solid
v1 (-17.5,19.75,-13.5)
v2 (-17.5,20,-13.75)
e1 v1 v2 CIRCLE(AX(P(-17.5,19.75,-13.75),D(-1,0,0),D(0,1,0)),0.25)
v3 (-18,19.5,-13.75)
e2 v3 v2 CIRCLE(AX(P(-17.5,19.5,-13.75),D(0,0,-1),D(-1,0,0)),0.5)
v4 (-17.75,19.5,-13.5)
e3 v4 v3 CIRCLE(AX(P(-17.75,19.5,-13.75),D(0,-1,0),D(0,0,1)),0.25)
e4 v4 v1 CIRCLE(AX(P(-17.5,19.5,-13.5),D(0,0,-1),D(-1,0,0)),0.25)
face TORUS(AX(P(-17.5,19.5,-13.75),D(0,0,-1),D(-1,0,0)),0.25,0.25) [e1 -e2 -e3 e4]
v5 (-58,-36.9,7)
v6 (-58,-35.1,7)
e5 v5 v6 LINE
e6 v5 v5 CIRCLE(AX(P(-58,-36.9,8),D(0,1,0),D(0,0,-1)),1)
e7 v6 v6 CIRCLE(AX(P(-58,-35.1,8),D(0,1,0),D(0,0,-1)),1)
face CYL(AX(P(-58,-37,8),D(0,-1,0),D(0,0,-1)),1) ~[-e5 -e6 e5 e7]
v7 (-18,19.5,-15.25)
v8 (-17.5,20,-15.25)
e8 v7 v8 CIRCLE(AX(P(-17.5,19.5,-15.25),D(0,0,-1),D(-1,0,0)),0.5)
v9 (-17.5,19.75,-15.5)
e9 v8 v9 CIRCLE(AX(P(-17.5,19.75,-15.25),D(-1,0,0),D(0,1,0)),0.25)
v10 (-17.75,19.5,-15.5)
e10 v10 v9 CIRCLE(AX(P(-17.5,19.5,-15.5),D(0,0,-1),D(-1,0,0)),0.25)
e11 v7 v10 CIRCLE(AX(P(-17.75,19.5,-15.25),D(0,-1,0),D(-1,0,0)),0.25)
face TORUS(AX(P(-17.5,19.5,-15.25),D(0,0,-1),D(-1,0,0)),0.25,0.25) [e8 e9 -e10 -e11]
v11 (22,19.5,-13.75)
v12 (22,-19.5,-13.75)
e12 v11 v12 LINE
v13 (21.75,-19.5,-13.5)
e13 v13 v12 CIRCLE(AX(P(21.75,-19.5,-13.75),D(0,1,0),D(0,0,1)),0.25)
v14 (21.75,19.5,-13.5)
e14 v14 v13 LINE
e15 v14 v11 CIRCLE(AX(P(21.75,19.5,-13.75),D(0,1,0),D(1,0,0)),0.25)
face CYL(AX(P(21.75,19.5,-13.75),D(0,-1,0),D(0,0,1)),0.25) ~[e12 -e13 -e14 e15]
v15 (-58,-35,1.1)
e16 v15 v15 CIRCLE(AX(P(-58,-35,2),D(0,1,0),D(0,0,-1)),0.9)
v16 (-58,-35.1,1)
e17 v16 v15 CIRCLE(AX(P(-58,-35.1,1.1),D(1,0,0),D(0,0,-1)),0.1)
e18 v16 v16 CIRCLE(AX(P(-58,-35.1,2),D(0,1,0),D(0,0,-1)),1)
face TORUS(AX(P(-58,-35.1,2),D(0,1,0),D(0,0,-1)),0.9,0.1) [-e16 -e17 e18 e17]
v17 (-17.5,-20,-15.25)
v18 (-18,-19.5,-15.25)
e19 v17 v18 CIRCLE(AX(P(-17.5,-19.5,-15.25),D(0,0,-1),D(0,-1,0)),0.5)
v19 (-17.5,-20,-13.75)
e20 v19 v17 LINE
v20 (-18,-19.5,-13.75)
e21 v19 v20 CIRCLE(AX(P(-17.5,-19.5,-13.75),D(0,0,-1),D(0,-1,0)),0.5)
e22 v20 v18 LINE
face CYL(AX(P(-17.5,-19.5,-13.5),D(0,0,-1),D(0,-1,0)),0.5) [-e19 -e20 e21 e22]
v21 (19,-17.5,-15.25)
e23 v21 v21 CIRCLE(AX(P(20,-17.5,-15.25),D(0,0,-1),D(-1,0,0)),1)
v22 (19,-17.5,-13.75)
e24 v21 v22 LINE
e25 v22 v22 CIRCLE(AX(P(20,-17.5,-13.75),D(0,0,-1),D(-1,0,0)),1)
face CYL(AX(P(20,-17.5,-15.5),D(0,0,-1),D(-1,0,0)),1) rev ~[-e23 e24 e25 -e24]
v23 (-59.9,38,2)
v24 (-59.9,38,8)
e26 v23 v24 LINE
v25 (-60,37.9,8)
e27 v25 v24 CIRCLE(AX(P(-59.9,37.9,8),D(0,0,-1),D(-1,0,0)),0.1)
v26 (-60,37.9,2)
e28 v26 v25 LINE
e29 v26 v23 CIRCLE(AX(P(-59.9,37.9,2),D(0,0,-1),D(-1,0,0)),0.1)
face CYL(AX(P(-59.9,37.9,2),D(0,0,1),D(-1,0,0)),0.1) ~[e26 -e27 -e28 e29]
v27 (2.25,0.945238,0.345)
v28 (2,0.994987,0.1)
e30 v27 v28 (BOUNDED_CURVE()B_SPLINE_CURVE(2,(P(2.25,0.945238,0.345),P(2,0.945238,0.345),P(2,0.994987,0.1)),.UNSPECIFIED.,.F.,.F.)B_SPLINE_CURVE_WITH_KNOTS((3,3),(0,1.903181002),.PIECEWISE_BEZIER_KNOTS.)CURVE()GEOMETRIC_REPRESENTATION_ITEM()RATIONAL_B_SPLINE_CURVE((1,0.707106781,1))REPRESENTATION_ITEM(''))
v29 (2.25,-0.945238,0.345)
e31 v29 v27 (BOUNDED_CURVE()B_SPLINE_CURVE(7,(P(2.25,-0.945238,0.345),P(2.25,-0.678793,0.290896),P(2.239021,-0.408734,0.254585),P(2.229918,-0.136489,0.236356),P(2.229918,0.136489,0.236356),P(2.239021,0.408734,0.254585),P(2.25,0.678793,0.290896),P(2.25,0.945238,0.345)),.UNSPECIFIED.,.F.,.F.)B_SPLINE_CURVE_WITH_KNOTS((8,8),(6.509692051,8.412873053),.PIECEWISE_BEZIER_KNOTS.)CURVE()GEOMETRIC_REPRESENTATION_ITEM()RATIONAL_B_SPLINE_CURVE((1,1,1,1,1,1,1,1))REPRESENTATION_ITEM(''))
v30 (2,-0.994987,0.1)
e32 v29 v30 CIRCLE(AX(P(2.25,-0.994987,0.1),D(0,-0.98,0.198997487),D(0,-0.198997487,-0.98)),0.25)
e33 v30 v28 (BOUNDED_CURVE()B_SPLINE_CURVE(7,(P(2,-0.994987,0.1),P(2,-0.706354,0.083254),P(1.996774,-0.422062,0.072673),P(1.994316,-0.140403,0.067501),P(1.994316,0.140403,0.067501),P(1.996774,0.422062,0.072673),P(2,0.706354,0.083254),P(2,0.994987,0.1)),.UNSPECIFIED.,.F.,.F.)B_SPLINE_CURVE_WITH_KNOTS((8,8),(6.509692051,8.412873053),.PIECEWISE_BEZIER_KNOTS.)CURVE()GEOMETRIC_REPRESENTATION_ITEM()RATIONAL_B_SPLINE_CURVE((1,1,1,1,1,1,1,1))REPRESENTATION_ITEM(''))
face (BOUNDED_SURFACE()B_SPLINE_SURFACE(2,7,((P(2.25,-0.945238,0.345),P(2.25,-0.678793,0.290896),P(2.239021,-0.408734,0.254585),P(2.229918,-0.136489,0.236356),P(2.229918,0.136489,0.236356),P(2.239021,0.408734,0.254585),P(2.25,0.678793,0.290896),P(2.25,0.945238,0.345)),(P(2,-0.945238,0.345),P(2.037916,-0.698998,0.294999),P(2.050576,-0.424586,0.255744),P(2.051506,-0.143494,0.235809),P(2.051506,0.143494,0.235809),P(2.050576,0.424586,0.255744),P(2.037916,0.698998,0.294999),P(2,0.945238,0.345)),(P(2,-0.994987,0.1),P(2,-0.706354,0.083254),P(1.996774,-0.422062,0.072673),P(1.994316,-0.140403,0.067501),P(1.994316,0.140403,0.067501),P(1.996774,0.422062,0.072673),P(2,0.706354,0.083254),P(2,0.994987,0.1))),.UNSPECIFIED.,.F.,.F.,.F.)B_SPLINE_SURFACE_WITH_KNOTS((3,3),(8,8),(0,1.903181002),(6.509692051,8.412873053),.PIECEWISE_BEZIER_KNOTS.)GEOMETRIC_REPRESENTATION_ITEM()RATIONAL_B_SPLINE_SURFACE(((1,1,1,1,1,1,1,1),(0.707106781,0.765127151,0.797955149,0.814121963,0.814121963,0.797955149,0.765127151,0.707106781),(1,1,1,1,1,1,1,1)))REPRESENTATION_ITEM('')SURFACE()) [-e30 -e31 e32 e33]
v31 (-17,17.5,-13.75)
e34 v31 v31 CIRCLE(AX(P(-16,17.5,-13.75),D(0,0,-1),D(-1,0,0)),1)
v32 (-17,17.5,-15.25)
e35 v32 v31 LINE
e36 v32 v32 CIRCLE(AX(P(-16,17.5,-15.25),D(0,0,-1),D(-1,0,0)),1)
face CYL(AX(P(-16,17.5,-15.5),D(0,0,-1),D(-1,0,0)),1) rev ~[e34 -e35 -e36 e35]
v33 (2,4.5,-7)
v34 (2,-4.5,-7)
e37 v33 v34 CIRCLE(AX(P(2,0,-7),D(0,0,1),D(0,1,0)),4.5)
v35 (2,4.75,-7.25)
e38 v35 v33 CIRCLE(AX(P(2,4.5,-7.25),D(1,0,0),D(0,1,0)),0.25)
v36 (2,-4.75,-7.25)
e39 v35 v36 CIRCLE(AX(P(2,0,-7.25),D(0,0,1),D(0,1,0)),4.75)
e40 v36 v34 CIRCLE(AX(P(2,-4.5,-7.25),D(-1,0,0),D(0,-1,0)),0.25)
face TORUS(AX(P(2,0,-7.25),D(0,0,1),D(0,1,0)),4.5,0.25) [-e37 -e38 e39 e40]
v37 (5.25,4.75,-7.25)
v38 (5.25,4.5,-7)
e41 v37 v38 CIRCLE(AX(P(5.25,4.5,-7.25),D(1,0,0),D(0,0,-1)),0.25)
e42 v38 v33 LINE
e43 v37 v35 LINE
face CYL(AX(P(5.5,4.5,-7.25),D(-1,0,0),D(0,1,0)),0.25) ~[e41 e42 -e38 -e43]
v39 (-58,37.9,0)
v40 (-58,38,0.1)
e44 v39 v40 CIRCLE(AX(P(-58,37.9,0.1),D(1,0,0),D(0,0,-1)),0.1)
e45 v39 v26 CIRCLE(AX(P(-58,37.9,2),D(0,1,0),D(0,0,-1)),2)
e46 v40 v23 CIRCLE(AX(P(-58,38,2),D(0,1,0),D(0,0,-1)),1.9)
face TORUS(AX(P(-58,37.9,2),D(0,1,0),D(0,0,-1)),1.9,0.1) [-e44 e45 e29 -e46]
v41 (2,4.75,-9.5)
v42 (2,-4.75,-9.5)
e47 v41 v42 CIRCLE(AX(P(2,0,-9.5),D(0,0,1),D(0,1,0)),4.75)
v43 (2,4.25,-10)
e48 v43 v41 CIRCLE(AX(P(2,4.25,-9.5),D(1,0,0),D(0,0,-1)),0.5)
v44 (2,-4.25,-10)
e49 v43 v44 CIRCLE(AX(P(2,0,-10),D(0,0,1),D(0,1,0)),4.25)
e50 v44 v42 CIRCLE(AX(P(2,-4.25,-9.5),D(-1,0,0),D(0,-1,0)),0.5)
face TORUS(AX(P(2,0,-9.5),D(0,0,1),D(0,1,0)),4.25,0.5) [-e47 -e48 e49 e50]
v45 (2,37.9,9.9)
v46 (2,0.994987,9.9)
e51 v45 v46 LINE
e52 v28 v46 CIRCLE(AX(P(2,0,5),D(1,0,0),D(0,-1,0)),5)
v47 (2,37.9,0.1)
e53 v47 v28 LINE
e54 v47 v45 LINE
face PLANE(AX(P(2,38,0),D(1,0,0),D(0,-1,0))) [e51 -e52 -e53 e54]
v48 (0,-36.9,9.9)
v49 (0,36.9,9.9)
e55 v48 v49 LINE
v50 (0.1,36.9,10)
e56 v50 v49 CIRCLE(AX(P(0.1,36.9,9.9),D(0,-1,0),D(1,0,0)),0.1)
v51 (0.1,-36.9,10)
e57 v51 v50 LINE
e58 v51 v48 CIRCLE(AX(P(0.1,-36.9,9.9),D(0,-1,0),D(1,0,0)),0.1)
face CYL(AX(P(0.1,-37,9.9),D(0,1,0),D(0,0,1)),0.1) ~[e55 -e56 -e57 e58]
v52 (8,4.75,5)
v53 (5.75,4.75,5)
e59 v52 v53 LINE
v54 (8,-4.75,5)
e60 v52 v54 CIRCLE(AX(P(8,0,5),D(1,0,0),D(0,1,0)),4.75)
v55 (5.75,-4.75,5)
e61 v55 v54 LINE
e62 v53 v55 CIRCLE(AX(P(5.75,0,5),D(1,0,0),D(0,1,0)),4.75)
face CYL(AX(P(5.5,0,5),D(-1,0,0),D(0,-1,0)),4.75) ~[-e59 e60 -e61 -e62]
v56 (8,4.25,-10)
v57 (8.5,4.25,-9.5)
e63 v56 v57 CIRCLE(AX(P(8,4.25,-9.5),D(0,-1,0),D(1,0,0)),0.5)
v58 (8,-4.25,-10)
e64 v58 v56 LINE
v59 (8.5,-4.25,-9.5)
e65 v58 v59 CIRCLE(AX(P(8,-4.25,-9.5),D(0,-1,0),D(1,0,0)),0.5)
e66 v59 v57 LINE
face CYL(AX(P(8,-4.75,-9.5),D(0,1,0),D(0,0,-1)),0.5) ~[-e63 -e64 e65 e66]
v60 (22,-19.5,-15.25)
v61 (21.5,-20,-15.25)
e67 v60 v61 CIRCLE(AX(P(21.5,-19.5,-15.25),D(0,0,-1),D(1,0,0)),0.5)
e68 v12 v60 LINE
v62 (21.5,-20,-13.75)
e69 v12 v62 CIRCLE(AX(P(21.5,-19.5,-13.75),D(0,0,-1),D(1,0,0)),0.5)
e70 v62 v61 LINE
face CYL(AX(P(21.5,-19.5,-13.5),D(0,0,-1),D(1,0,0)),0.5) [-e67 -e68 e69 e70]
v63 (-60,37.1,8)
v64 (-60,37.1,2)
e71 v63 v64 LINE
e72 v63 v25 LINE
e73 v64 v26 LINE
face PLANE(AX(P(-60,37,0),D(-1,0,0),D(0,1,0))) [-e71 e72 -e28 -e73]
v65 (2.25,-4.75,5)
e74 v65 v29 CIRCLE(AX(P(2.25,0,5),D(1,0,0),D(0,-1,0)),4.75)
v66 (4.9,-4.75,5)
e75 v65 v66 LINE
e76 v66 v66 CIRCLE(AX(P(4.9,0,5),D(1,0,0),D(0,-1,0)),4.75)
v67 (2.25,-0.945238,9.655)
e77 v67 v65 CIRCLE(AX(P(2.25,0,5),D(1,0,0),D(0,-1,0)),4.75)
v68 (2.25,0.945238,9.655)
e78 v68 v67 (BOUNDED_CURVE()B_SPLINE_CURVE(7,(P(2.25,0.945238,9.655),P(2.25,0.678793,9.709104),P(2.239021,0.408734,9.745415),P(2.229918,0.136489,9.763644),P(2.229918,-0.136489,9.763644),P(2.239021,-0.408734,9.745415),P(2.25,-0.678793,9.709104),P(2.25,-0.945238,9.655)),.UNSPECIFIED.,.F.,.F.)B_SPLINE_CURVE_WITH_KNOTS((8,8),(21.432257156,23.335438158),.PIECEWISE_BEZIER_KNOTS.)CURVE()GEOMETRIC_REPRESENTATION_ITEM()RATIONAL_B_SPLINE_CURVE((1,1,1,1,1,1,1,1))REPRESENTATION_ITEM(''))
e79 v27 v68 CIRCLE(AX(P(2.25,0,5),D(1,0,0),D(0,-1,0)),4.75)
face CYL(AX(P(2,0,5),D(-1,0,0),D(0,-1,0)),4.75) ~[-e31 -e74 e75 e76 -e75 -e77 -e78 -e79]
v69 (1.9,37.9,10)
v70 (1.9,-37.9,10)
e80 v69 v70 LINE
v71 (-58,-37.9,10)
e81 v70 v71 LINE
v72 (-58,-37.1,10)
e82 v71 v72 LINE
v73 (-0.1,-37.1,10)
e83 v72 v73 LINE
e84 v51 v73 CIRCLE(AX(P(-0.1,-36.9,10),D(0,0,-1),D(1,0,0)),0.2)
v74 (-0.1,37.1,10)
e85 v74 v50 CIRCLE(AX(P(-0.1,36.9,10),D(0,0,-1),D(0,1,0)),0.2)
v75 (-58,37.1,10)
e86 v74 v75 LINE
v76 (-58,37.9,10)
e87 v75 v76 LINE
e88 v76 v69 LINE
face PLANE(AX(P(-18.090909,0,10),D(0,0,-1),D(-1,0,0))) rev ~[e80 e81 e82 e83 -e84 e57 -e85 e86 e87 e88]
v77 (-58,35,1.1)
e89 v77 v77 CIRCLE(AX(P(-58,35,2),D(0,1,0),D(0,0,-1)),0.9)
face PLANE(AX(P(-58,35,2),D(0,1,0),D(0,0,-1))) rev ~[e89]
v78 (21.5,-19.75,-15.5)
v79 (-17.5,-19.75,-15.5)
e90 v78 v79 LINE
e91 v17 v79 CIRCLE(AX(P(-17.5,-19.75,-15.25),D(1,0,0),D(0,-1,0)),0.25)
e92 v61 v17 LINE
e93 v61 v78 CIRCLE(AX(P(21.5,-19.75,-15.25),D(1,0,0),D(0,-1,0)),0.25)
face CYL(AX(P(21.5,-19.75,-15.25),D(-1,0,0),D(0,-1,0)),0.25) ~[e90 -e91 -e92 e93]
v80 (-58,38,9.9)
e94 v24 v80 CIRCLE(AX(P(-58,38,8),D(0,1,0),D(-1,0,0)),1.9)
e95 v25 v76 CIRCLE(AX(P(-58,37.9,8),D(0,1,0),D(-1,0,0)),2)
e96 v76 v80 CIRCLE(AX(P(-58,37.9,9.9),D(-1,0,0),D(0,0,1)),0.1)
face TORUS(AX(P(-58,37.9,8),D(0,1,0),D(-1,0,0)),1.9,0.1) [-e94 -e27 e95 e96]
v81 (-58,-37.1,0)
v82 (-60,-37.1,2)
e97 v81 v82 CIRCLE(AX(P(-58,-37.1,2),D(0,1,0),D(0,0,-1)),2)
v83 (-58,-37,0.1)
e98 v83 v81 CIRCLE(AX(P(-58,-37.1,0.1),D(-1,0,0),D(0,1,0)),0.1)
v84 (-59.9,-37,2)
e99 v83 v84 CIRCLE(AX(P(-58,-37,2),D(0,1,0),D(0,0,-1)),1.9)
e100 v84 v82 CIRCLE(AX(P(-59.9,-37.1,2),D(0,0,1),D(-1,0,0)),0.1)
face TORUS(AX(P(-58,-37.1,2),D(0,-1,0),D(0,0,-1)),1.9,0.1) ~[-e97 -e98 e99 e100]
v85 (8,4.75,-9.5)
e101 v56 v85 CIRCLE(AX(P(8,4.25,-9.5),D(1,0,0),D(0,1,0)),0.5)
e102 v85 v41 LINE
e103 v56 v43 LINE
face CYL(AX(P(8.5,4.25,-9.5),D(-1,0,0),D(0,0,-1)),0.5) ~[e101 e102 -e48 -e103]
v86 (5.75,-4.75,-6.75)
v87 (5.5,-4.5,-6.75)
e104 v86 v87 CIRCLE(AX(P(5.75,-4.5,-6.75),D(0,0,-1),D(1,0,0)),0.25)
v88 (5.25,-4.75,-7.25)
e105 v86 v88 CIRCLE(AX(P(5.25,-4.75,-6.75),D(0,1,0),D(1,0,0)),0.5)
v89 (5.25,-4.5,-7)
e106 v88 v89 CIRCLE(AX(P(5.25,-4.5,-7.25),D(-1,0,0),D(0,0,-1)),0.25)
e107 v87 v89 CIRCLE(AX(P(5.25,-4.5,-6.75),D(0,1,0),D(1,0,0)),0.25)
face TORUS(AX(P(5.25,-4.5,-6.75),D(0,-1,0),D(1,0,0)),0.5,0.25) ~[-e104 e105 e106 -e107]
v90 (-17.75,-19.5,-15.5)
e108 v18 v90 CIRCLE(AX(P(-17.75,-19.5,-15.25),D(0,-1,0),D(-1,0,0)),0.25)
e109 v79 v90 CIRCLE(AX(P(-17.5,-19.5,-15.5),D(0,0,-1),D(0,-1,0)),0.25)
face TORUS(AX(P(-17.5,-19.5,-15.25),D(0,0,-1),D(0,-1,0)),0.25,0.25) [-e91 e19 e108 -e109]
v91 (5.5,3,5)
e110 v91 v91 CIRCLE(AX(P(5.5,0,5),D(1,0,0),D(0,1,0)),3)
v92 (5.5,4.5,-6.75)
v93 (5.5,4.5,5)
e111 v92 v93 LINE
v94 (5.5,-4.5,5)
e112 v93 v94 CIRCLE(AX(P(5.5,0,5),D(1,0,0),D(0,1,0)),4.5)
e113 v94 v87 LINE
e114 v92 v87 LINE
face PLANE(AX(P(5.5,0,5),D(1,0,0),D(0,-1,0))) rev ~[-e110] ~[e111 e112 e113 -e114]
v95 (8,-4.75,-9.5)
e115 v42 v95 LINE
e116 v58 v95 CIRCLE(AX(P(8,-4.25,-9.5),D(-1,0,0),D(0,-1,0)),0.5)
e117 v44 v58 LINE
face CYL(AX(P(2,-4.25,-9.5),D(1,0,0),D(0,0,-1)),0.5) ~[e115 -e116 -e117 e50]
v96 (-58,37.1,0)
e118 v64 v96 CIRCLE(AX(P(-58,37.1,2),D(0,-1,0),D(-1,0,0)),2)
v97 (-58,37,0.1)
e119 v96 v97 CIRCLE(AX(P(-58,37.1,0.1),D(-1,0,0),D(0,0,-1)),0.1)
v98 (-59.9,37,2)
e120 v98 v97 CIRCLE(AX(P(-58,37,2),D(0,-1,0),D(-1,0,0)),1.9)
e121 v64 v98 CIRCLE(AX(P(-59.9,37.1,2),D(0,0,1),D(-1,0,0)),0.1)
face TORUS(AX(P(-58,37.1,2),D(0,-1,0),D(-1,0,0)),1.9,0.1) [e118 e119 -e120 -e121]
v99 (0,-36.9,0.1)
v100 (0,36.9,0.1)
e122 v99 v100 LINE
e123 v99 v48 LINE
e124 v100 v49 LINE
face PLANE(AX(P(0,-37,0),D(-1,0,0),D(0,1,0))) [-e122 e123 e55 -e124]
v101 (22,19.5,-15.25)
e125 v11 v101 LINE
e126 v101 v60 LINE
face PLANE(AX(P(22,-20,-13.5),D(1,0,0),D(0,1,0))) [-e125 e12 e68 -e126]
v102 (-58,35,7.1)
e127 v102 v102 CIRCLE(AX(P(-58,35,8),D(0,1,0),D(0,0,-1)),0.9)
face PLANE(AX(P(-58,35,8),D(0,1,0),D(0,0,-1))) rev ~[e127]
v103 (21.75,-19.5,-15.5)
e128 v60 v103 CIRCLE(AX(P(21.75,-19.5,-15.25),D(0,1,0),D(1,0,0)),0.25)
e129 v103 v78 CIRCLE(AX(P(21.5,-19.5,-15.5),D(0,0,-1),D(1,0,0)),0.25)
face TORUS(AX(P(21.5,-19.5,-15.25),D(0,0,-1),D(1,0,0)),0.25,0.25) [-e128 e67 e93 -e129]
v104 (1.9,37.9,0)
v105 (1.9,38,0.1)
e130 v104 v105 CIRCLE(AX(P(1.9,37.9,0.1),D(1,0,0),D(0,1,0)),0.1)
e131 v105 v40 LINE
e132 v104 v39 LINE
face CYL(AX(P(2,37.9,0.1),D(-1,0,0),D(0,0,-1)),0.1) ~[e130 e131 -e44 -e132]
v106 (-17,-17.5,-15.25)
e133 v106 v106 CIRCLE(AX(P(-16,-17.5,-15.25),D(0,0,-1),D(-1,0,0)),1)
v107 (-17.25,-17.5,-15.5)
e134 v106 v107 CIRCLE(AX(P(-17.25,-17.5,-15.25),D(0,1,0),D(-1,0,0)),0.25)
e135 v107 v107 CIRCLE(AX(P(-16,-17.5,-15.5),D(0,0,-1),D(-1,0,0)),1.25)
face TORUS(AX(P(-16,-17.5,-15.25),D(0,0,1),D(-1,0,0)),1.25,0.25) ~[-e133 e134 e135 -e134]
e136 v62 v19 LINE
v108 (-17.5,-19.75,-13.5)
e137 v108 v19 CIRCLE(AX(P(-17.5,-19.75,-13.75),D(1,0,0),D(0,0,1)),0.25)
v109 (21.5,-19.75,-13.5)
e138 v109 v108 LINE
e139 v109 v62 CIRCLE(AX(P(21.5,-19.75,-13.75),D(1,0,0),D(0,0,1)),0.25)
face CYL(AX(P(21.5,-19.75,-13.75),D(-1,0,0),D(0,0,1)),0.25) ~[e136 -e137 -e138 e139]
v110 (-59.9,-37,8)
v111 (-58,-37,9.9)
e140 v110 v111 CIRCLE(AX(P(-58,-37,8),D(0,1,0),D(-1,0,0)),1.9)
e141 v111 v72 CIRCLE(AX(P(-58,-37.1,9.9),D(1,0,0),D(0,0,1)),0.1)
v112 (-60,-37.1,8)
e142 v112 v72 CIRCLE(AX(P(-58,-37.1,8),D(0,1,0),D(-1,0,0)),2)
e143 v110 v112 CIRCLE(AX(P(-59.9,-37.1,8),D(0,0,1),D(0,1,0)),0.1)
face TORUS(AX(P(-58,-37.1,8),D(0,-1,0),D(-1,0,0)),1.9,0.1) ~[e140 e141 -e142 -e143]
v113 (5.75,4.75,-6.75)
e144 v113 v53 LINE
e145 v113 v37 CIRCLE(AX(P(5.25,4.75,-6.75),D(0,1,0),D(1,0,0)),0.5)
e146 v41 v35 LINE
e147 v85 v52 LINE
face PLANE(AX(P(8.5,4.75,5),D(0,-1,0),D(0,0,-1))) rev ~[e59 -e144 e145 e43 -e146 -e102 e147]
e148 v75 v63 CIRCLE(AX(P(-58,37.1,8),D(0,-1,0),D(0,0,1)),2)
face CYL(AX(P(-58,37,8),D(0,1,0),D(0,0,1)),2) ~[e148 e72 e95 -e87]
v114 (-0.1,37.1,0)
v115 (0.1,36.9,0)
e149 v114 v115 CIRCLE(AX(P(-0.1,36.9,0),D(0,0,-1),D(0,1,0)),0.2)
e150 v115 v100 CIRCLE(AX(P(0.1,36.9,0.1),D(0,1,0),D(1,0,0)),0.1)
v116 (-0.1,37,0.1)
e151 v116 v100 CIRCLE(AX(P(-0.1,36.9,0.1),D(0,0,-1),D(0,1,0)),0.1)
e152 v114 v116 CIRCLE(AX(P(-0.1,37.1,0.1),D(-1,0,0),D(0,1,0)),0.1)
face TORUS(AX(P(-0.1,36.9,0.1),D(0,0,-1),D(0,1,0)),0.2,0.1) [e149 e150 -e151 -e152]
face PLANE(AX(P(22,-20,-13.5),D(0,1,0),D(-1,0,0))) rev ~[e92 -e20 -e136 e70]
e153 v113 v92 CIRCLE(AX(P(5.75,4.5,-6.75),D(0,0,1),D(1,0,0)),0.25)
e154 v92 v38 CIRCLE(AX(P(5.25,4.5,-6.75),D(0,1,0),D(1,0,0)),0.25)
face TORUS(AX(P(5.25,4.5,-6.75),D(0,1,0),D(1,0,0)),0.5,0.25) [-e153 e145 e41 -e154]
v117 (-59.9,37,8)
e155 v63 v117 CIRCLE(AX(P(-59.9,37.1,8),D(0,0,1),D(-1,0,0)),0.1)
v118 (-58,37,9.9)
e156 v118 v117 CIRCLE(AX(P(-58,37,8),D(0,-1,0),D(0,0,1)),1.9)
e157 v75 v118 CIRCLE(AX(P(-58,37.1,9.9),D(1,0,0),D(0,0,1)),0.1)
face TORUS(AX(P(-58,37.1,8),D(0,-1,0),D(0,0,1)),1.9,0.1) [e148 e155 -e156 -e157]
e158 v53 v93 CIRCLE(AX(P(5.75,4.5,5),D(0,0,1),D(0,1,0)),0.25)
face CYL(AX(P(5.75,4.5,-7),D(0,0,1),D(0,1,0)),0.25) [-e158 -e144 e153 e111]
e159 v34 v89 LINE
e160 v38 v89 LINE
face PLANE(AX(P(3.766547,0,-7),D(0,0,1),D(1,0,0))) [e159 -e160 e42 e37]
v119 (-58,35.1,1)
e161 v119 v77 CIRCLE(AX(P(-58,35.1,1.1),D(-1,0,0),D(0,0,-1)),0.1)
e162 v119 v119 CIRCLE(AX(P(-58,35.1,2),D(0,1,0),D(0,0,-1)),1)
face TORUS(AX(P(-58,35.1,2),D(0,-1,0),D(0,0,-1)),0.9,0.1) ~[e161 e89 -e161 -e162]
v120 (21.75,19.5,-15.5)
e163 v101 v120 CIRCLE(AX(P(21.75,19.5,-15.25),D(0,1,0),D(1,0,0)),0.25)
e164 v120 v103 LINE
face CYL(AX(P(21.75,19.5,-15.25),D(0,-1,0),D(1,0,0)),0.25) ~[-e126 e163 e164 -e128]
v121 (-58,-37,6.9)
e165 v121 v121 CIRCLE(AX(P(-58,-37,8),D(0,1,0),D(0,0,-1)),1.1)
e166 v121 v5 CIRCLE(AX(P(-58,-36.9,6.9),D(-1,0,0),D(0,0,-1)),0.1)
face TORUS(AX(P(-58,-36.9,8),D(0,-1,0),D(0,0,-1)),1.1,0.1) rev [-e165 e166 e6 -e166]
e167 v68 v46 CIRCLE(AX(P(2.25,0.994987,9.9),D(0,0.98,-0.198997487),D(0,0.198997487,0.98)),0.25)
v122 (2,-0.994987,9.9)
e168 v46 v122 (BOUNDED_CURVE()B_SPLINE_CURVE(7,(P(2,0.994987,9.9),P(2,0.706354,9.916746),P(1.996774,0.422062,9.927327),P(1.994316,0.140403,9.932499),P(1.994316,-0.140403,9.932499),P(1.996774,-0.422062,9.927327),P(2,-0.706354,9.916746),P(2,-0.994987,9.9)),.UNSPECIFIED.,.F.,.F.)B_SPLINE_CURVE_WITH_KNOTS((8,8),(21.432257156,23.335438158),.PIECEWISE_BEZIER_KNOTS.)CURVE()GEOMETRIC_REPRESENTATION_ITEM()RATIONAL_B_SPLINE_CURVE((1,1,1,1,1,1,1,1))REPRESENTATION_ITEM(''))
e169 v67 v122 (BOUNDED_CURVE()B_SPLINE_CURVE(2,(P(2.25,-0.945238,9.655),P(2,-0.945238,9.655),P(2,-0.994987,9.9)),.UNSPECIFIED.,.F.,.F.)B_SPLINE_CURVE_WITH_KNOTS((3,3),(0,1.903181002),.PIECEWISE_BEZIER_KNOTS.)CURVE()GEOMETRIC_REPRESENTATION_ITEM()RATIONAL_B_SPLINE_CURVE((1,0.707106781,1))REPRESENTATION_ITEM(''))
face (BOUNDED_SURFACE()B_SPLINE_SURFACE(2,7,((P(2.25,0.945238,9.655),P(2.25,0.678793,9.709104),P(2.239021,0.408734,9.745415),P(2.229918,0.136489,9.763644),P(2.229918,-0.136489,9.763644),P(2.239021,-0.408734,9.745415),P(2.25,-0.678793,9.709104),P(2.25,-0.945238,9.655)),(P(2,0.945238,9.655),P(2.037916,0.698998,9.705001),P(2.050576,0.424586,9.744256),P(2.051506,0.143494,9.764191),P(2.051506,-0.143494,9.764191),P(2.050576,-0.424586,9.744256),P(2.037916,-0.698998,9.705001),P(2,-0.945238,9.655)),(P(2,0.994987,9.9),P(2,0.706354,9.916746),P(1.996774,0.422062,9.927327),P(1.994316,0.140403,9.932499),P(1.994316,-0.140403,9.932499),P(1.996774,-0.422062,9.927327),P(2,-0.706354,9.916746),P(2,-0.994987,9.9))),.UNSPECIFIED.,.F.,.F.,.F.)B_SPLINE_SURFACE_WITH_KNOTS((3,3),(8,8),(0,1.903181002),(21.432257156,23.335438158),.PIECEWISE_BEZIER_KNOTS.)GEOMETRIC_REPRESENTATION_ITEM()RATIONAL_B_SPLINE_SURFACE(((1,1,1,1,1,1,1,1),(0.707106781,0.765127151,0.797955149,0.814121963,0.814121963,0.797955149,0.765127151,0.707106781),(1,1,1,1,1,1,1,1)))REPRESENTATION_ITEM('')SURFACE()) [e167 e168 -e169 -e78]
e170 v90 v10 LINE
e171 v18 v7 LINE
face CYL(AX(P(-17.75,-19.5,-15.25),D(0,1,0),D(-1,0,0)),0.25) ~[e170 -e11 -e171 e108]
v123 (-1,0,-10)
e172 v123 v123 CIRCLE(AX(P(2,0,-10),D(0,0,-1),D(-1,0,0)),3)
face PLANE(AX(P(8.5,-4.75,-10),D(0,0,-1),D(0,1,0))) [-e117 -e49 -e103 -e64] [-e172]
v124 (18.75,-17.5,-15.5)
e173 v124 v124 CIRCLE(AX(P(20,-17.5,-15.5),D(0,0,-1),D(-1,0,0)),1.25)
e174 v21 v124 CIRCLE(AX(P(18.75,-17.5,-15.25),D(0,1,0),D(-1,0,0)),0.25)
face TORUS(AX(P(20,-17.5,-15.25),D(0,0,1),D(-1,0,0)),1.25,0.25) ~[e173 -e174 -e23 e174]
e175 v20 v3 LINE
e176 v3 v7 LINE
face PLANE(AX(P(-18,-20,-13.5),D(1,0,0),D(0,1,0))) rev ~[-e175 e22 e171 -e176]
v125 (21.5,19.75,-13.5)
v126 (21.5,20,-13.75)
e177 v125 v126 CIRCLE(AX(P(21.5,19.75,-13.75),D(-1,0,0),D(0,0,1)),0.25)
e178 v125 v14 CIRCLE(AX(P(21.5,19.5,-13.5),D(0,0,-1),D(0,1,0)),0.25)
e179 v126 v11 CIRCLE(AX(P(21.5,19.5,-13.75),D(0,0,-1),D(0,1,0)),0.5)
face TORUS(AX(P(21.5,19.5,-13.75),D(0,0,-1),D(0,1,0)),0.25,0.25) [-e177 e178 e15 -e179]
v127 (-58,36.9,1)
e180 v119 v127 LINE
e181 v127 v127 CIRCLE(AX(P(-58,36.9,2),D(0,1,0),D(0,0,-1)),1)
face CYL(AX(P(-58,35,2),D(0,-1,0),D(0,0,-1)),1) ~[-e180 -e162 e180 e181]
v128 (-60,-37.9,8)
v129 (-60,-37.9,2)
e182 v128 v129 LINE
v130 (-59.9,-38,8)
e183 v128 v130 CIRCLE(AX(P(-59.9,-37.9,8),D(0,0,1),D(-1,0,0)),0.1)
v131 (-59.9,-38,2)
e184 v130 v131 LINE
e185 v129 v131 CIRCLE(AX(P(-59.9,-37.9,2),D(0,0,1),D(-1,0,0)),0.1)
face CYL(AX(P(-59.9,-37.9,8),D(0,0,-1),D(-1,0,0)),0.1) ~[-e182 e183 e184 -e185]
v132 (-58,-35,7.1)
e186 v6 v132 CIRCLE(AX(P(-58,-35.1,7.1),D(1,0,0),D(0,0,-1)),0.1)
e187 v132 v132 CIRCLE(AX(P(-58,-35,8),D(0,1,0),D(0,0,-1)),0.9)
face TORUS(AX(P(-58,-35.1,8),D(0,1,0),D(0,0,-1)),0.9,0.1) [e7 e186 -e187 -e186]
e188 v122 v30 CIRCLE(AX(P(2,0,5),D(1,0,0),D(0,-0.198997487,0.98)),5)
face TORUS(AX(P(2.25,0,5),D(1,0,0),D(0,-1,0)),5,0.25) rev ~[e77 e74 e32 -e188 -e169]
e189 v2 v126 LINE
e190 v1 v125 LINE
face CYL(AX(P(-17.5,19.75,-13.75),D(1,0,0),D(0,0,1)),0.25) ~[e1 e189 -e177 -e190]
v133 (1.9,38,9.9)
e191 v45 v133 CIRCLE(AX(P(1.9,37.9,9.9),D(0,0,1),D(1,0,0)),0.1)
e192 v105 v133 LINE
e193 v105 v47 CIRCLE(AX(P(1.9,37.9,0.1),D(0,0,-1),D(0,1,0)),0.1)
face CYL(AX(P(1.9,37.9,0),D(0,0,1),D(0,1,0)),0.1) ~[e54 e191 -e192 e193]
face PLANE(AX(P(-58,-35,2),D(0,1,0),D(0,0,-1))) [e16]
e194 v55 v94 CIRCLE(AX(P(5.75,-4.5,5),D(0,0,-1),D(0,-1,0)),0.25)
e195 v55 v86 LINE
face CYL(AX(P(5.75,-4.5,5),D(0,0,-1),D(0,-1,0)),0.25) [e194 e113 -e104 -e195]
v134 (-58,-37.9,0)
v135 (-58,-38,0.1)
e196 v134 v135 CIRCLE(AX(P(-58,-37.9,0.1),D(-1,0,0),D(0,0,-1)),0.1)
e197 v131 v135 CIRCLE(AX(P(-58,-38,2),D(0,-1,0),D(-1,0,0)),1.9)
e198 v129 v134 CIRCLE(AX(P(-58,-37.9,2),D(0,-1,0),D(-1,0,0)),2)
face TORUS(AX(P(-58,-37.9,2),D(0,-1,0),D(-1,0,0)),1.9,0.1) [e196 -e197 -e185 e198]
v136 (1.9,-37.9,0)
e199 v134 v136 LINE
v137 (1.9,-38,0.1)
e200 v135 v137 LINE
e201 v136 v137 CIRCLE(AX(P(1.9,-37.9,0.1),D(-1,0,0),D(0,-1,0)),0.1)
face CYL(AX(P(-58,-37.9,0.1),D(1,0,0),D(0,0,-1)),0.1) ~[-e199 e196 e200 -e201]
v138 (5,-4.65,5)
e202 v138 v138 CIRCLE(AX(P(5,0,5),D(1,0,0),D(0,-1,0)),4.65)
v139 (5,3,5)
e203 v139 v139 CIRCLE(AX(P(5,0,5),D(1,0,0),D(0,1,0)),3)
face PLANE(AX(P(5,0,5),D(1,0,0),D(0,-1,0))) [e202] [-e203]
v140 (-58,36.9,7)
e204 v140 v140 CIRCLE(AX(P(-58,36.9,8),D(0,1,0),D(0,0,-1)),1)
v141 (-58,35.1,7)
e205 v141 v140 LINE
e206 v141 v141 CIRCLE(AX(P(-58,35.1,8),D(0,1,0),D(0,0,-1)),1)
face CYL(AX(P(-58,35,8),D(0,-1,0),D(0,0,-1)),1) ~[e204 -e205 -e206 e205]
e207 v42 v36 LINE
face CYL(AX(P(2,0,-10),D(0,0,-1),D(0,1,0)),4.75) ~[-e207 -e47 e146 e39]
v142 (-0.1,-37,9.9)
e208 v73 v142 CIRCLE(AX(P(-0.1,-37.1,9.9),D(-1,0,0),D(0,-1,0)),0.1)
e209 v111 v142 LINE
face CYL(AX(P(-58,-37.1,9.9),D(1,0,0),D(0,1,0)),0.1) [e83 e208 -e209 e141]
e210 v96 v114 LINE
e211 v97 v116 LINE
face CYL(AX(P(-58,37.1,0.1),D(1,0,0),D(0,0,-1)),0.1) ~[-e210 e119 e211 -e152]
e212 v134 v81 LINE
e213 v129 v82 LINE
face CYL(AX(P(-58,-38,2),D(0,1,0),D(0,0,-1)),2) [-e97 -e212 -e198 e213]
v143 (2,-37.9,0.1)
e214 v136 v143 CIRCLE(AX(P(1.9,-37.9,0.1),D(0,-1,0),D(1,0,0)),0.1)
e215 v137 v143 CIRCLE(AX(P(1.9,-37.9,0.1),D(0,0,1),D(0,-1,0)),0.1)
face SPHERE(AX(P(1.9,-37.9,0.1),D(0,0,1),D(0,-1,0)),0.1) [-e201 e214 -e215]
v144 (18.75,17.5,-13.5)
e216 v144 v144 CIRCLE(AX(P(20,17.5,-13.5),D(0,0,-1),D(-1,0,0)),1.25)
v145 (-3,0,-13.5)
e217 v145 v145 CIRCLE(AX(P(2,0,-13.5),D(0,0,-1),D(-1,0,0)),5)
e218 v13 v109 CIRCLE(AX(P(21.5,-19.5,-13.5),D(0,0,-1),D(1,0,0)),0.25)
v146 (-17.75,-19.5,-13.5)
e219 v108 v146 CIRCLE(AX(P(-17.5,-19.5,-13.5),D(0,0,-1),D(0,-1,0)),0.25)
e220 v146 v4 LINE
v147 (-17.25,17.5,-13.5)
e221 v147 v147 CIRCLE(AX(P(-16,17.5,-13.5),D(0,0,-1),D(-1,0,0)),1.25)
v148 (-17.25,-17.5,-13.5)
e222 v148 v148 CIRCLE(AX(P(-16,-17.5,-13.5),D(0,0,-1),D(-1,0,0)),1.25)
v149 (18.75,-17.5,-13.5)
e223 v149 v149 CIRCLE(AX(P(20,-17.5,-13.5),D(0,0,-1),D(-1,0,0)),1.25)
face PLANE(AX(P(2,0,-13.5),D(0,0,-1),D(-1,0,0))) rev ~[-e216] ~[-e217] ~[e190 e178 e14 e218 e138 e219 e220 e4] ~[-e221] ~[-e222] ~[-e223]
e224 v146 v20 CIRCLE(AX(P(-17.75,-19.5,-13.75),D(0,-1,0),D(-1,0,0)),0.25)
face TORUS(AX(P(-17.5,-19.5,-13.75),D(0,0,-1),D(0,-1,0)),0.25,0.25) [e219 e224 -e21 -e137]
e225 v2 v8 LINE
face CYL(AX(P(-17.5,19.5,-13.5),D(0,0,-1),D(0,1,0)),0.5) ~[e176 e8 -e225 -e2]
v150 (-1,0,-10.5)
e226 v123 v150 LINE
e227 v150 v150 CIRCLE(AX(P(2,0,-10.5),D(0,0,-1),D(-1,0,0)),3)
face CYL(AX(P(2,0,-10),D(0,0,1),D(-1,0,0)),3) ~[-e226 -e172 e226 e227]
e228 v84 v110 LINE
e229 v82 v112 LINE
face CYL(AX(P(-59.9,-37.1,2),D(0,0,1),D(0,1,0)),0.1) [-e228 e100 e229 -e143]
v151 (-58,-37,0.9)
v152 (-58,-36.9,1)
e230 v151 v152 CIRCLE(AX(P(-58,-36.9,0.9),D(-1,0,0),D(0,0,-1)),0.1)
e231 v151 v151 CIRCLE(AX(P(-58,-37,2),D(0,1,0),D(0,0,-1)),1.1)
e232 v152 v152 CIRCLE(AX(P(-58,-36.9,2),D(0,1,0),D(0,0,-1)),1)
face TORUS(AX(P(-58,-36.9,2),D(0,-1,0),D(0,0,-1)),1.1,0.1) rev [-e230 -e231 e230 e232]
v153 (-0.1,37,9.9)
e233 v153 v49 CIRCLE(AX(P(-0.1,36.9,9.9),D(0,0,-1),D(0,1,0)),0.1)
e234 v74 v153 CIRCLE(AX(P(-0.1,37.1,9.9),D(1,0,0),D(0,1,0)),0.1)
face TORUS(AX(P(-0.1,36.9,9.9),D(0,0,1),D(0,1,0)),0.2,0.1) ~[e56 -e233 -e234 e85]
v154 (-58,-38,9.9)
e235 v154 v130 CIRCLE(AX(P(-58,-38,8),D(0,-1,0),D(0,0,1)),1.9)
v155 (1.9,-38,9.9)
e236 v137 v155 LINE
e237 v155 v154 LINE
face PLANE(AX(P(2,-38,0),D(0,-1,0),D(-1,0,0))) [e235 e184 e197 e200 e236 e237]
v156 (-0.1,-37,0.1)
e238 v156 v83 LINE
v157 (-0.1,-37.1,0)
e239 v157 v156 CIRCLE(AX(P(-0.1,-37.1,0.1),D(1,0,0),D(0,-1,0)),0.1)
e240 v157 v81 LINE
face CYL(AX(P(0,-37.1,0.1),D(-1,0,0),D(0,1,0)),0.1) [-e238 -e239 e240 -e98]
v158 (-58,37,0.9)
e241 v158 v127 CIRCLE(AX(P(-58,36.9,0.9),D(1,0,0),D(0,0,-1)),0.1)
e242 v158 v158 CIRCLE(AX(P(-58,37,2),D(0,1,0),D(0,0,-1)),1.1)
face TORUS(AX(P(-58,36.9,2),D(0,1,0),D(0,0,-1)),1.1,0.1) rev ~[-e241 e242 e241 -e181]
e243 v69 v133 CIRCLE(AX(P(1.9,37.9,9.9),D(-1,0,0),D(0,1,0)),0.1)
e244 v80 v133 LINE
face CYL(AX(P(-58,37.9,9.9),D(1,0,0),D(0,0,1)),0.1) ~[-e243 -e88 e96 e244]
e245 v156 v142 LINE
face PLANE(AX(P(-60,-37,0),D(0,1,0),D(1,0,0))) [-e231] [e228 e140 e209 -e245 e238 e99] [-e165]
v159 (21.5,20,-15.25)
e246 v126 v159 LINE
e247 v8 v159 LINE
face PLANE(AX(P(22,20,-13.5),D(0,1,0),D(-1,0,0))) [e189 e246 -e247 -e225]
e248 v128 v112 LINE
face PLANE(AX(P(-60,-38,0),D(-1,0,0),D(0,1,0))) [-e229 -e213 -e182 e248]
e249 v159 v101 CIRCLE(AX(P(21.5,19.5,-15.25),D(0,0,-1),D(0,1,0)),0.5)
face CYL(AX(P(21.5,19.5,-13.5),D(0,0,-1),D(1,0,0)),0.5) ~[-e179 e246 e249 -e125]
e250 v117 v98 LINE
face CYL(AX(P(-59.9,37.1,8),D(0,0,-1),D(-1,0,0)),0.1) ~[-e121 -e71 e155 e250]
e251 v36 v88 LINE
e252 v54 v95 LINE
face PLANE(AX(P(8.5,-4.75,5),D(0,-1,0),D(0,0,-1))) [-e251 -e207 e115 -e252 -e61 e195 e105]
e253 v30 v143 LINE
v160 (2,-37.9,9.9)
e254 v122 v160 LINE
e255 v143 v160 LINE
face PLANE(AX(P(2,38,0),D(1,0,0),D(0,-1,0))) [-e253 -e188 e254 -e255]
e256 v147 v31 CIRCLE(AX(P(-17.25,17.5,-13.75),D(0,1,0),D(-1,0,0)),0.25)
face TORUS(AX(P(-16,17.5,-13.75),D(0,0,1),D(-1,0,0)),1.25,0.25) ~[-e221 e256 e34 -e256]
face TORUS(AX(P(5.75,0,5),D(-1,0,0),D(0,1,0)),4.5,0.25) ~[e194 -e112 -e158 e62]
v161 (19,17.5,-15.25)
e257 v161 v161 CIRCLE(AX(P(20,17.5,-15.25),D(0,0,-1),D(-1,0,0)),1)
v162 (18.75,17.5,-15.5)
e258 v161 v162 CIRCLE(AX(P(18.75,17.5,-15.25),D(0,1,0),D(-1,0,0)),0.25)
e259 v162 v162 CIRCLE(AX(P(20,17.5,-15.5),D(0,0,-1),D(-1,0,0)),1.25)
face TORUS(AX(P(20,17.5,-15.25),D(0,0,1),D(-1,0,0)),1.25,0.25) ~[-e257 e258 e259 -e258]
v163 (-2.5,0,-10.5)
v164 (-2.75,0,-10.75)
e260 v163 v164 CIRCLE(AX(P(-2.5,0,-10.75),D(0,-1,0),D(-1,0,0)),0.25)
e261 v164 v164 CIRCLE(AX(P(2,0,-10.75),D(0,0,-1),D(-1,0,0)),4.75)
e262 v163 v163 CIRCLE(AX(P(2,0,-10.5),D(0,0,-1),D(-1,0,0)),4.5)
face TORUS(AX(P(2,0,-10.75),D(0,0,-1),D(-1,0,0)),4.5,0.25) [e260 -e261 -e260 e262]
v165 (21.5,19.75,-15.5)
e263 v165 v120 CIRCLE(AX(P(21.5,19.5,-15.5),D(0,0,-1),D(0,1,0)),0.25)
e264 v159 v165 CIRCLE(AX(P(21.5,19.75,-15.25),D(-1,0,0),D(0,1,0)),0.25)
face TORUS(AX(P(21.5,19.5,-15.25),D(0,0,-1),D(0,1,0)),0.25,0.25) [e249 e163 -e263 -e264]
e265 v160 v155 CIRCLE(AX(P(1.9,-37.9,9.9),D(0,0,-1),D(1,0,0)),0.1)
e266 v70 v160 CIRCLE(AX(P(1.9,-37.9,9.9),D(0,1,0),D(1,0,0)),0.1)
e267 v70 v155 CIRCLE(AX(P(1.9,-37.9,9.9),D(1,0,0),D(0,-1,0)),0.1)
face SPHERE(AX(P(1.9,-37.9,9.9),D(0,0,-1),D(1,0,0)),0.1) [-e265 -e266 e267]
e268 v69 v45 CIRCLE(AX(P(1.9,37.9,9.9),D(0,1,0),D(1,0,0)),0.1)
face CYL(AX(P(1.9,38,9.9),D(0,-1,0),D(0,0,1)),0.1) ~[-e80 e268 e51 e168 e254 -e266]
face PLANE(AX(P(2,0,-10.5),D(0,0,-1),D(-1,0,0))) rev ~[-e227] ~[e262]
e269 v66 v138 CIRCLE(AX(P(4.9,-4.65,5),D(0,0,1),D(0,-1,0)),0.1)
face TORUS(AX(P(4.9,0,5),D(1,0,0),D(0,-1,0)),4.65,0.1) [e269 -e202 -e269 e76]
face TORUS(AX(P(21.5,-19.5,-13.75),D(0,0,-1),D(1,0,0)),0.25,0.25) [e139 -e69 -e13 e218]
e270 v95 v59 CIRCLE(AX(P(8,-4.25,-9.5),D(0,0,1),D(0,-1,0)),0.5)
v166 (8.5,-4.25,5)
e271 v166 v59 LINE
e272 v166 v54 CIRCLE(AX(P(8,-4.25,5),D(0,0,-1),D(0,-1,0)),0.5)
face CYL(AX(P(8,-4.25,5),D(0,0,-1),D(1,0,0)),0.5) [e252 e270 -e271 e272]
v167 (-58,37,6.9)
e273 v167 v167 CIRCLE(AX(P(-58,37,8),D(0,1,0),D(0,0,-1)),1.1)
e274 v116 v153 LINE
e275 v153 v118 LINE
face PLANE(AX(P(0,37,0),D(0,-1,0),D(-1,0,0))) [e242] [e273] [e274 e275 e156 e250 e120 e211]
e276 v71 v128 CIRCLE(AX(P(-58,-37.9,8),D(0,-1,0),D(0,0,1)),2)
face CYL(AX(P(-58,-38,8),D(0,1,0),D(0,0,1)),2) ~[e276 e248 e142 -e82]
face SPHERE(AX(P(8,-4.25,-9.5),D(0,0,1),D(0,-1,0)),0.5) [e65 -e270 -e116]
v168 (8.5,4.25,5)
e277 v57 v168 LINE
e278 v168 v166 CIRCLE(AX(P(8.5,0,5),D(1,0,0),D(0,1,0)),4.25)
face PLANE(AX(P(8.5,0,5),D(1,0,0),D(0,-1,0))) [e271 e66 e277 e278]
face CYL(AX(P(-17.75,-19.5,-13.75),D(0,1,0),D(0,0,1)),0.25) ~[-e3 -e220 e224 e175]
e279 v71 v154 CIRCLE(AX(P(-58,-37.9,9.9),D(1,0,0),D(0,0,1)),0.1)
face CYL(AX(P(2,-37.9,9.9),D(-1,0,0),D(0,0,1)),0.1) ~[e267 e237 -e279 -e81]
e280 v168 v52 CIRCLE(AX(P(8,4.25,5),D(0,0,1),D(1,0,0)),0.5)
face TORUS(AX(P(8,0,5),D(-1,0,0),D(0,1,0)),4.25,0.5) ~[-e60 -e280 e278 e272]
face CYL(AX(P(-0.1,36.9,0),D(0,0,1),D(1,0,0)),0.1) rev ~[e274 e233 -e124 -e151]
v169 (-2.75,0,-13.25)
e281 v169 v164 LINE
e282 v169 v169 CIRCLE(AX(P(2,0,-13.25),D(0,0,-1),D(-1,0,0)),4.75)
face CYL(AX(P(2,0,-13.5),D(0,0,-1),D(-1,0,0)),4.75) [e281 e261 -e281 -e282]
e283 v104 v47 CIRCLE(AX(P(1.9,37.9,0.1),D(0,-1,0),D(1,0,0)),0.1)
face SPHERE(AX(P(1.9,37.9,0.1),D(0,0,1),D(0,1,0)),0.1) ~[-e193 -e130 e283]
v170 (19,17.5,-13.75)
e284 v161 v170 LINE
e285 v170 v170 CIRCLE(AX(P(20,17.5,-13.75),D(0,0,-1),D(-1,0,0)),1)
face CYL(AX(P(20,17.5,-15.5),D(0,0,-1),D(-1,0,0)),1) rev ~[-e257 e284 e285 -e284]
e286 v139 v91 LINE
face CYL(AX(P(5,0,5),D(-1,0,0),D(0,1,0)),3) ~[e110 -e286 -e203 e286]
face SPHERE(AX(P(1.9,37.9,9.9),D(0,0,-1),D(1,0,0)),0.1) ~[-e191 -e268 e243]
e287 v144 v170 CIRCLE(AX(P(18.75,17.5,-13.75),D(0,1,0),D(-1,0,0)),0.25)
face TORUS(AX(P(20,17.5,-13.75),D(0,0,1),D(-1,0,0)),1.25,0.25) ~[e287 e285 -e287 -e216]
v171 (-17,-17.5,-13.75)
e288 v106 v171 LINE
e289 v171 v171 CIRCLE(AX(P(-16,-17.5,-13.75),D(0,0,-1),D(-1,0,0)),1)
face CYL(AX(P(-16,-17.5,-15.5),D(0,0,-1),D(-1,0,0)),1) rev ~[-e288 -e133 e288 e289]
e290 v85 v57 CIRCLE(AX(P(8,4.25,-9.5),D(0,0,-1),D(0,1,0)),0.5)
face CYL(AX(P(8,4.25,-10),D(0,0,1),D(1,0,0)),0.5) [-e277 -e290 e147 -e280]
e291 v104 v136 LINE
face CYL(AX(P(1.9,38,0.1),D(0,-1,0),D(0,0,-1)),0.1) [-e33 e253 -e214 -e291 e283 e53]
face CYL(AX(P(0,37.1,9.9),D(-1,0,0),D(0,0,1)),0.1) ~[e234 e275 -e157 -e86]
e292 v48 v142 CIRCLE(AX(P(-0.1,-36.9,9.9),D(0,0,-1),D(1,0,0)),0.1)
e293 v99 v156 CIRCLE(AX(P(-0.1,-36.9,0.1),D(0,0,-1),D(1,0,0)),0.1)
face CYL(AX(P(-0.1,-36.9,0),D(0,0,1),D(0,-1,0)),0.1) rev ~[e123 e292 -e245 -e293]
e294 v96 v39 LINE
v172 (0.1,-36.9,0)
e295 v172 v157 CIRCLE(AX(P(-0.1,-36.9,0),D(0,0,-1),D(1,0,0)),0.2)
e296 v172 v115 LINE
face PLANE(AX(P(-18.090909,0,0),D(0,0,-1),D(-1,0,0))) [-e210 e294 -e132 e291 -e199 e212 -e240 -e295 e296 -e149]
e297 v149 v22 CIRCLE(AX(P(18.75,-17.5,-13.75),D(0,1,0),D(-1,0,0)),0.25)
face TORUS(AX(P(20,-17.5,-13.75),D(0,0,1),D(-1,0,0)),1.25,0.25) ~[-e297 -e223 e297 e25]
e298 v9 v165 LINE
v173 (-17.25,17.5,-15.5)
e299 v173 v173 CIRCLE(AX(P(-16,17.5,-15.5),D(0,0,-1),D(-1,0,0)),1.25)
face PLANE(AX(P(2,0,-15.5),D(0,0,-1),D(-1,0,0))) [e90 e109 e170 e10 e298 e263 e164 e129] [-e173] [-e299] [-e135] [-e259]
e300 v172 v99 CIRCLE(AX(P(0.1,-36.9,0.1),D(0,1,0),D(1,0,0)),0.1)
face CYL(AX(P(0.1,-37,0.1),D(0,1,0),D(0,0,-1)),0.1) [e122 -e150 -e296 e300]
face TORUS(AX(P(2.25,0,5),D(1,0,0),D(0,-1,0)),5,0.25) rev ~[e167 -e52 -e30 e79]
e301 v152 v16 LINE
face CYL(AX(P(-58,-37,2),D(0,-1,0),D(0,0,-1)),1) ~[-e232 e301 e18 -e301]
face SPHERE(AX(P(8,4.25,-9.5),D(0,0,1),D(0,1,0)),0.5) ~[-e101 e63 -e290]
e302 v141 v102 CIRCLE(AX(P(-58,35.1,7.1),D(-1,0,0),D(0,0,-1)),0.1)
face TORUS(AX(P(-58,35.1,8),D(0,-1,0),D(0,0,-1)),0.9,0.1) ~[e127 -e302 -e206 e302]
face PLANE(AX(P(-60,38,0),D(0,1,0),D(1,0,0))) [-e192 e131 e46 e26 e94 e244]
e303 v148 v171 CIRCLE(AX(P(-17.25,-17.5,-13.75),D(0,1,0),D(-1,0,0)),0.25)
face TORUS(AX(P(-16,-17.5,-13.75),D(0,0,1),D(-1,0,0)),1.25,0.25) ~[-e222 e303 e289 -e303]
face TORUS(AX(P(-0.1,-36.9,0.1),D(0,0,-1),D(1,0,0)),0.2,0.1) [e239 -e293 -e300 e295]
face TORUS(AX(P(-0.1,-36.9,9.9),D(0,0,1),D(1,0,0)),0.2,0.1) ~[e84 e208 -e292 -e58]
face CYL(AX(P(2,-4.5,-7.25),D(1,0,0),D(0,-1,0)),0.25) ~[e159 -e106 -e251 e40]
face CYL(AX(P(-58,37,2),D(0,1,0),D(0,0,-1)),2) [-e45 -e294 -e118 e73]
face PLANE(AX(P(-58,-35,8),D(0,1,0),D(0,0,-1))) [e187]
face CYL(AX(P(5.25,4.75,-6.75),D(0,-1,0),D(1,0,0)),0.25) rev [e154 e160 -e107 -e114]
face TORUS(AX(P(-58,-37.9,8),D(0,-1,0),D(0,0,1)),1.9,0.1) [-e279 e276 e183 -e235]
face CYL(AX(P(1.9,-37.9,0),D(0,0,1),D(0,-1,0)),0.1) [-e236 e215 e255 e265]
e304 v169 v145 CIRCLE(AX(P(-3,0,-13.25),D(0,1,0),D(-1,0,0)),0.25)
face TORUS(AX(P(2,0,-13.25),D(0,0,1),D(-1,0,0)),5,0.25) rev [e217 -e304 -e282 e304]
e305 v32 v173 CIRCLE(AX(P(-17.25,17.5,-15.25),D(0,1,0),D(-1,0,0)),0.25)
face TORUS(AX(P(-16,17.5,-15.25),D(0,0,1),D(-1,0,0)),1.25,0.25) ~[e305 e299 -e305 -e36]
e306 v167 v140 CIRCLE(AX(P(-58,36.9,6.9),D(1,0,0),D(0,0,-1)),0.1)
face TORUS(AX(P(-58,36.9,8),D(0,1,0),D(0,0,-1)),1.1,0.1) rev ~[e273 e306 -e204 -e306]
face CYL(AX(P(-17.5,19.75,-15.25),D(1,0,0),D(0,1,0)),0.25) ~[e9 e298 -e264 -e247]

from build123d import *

# Parameters (mm, degrees)
BOSS_EXTRUDE1_DEPTH  = 10
BOSS_EXTRUDE2_START  = -37
SKETCH2_R            = 1
BOSS_EXTRUDE2_DEPTH  = 2
BOSS_EXTRUDE3_START  = 35
SKETCH2_2_R          = 1
BOSS_EXTRUDE3_DEPTH  = 2
FILLET1_R            = 2
FILLET2_R            = 0.1
SKETCH4_R            = 4.75
BOSS_EXTRUDE4_DEPTH  = 3
FILLET3_R            = 0.1
SKETCH5_R            = 3
BOSS_EXTRUDE5_DEPTH  = 0.5
SKETCH6_R            = 4.75
BOSS_EXTRUDE6_DEPTH  = 3
SKETCH7_W            = 15
SKETCH7_H            = 9.5
BOSS_EXTRUDE7_DEPTH  = 3
BOSS_EXTRUDE8_DEPTH  = 3
SKETCH10_R           = 3
BOSS_EXTRUDE9_DEPTH  = 0.5
BOSS_EXTRUDE10_START = 3
SKETCH11_R           = 4.75
BOSS_EXTRUDE10_DEPTH = 3
SKETCH12_W           = 40
SKETCH12_H           = 40
BOSS_EXTRUDE11_DEPTH = 2
FILLET4_R            = 0.5
CUT_EXTRUDE1_REACH   = 77.46
SKETCH13_R           = 1
FILLET5_R            = 0.5
FILLET6_R            = 0.25


with BuildPart() as part:
    # Sketch1 → Boss-Extrude1 (new body)
    with BuildSketch(Plane.XY):
        Polygon((0, -37), (0, 37), (-60, 37), (-60, 38), (2, 38), (2, -38), (-60, -38), (-60, -37), align=None)
    extrude(amount=BOSS_EXTRUDE1_DEPTH)

    # Sketch2 → Boss-Extrude2 (add)
    with BuildSketch(Plane(origin=(0, 0, 0), x_dir=(1, 0, 0), z_dir=(0, 1, 0)).offset(BOSS_EXTRUDE2_START)):
        with Locations(Location((-58, -2, 0), (0, 0, 90))):
            Circle(SKETCH2_R)
        with Locations(Location((-58, -8, 0), (0, 0, 90))):
            Circle(SKETCH2_R)
    extrude(amount=BOSS_EXTRUDE2_DEPTH)

    # Sketch2<2> → Boss-Extrude3 (add)
    with BuildSketch(Plane(origin=(0, 0, 0), x_dir=(1, 0, 0), z_dir=(0, 1, 0)).offset(BOSS_EXTRUDE3_START)):
        with Locations(Location((-58, -2, 0), (0, 0, 90))):
            Circle(SKETCH2_2_R)
        with Locations(Location((-58, -8, 0), (0, 0, 90))):
            Circle(SKETCH2_2_R)
    extrude(amount=BOSS_EXTRUDE3_DEPTH)

    # Fillet1
    fillet1_edges = [part.edges().sort_by_distance(p)[0] for p in [
        (-60, 37.5, 0),
        (-60, -37.5, 10),
        (-60, 37.5, 10),
        (-60, -37.5, 0),
    ]]
    fillet(fillet1_edges, radius=FILLET1_R)

    # Fillet2
    fillet2_edges = [part.edges().sort_by_distance(p)[0] for p in [
        (0, 0, 10),
        (-29, -37, 10),
        (2, 38, 5),
        (2, -38, 5),
        (0, -37, 5),
        (0, 37, 5),
        (2, 0, 10),
        (-58, -35, 3),
        (-58, -37, 3),
        (-28, 38, 10),
        (-58, -35, 9),
        (-58, -37, 9),
        (-58, 35, 3),
        (-58, 37, 3),
        (-58, 35, 9),
        (-58, 37, 9),
        (-29, 37, 10),
        (-28, -38, 10),
        (-28, -38, 0),
        (-60, -38, 5),
        (-59.414213562, -38, 0.585786438),
        (-59.414213562, -38, 9.414213562),
        (-60, -37, 5),
        (-59.414213562, -37, 0.585786438),
        (-59.414213562, -37, 9.414213562),
        (-29, 37, 0),
        (-60, 37, 5),
        (-59.414213562, 37, 0.585786438),
        (-59.414213562, 37, 9.414213562),
        (-60, 38, 5),
        (-59.414213562, 38, 0.585786438),
        (-59.414213562, 38, 9.414213562),
        (-28, 38, 0),
        (2, 0, 0),
        (-29, -37, 0),
        (0, 0, 0),
    ]]
    fillet(fillet2_edges, radius=FILLET2_R)

    # Sketch4 → Boss-Extrude4 (add)
    with BuildSketch(Plane(origin=(2, 0, 0), x_dir=(0, 0, -1), z_dir=(1, 0, 0))):
        with Locations(Location((-5, 0, 0), (0, 0, 270))):
            Circle(SKETCH4_R)
    extrude(amount=BOSS_EXTRUDE4_DEPTH)

    # Fillet3
    fillet3_edges = [part.edges().sort_by_distance(p)[0] for p in [
        (5, 4.75, 5),
    ]]
    fillet(fillet3_edges, radius=FILLET3_R)

    # Sketch5 → Boss-Extrude5 (add)
    with BuildSketch(Plane(origin=(5, 0, 0), x_dir=(0, 0, -1), z_dir=(1, 0, 0))):
        with Locations(Location((-5, 0, 0), (0, 0, 90))):
            Circle(SKETCH5_R)
    extrude(amount=BOSS_EXTRUDE5_DEPTH)

    # Sketch6 → Boss-Extrude6 (add)
    with BuildSketch(Plane(origin=(5.5, 0, 0), x_dir=(0, 0, -1), z_dir=(1, 0, 0))):
        with Locations(Location((-5, 0, 0), (0, 0, 270))):
            Circle(SKETCH6_R)
    extrude(amount=BOSS_EXTRUDE6_DEPTH)

    # Sketch7 → Boss-Extrude7 (add)
    with BuildSketch(Plane(origin=(8.5, 0, 0), x_dir=(0, 0, -1), z_dir=(1, 0, 0))):
        with Locations((2.5, 0)):
            Rectangle(SKETCH7_W, SKETCH7_H)
    extrude(amount=-BOSS_EXTRUDE7_DEPTH)

    # Sketch9 → Boss-Extrude8 (add)
    with BuildSketch(Plane(origin=(0, 0, -10), x_dir=(-1, 0, 0), z_dir=(0, 0, -1))):
        with BuildLine():
            Line((-8.5, 4.75), (-2, 4.75))
            ThreePointArc((-2, 4.75), (2.75, 0), (-2, -4.75))
            Line((-2, -4.75), (-8.5, -4.75))
            Line((-8.5, -4.75), (-8.5, 4.75))
        make_face()
    extrude(amount=-BOSS_EXTRUDE8_DEPTH)

    # Sketch10 → Boss-Extrude9 (add)
    with BuildSketch(Plane(origin=(0, 0, -10), x_dir=(-1, 0, 0), z_dir=(0, 0, -1))):
        with Locations((-2, 0)):
            Circle(SKETCH10_R)
    extrude(amount=BOSS_EXTRUDE9_DEPTH)

    # Sketch11 → Boss-Extrude10 (add)
    with BuildSketch(Plane(origin=(0, 0, -10.5), x_dir=(-1, 0, 0), z_dir=(0, 0, -1)).offset(BOSS_EXTRUDE10_START)):
        with Locations((-2, 0)):
            Circle(SKETCH11_R)
    extrude(amount=-BOSS_EXTRUDE10_DEPTH)

    # Sketch12 → Boss-Extrude11 (add)
    with BuildSketch(Plane(origin=(0, 0, -13.5), x_dir=(-1, 0, 0), z_dir=(0, 0, -1))):
        with Locations((-2, 0)):
            Rectangle(SKETCH12_W, SKETCH12_H)
    extrude(amount=BOSS_EXTRUDE11_DEPTH)

    # Fillet4
    fillet4_edges = [part.edges().sort_by_distance(p)[0] for p in [
        (-18, -20, -14.5),
        (-18, 20, -14.5),
        (22, 20, -14.5),
        (22, -20, -14.5),
    ]]
    fillet(fillet4_edges, radius=FILLET4_R)

    # Sketch13 → Cut-Extrude1 (cut, up to next)
    with BuildSketch(Plane(origin=(0, 0, -15.5), x_dir=(-1, 0, 0), z_dir=(0, 0, -1)), mode=Mode.PRIVATE) as cut_extrude1_sk1:
        with Locations((16, 17.5)):
            Circle(SKETCH13_R)
    cut_extrude1_tool1 = extrude(cut_extrude1_sk1.sketch, amount=-CUT_EXTRUDE1_REACH, mode=Mode.PRIVATE) & part.part
    # Sketch13 → Cut-Extrude1 (cut, up to next)
    with BuildSketch(Plane(origin=(0, 0, -15.5), x_dir=(-1, 0, 0), z_dir=(0, 0, -1)), mode=Mode.PRIVATE) as cut_extrude1_sk2:
        with Locations((-20, 17.5)):
            Circle(SKETCH13_R)
    cut_extrude1_tool2 = extrude(cut_extrude1_sk2.sketch, amount=-CUT_EXTRUDE1_REACH, mode=Mode.PRIVATE) & part.part
    # Sketch13 → Cut-Extrude1 (cut, up to next)
    with BuildSketch(Plane(origin=(0, 0, -15.5), x_dir=(-1, 0, 0), z_dir=(0, 0, -1)), mode=Mode.PRIVATE) as cut_extrude1_sk3:
        with Locations((-20, -17.5)):
            Circle(SKETCH13_R)
    cut_extrude1_tool3 = extrude(cut_extrude1_sk3.sketch, amount=-CUT_EXTRUDE1_REACH, mode=Mode.PRIVATE) & part.part
    # Sketch13 → Cut-Extrude1 (cut, up to next)
    with BuildSketch(Plane(origin=(0, 0, -15.5), x_dir=(-1, 0, 0), z_dir=(0, 0, -1)), mode=Mode.PRIVATE) as cut_extrude1_sk4:
        with Locations((16, -17.5)):
            Circle(SKETCH13_R)
    cut_extrude1_tool4 = extrude(cut_extrude1_sk4.sketch, amount=-CUT_EXTRUDE1_REACH, mode=Mode.PRIVATE) & part.part
    add(cut_extrude1_tool1.solids().sort_by_distance((-16, 17.5, -15.5))[0], mode=Mode.SUBTRACT)
    add(cut_extrude1_tool2.solids().sort_by_distance((20, 17.5, -15.5))[0], mode=Mode.SUBTRACT)
    add(cut_extrude1_tool3.solids().sort_by_distance((20, -17.5, -15.5))[0], mode=Mode.SUBTRACT)
    add(cut_extrude1_tool4.solids().sort_by_distance((-16, -17.5, -15.5))[0], mode=Mode.SUBTRACT)

    # Fillet5
    fillet5_edges = [part.edges().sort_by_distance(p)[0] for p in [
        (8.5, 0, 9.75),
        (5.25, 4.75, -10),
        (5.25, -4.75, -10),
        (8.5, -4.75, -2.5),
        (8.5, 0, -10),
        (8.5, 4.75, -2.5),
        (-2.75, 0, -10),
    ]]
    fillet(fillet5_edges, radius=FILLET5_R)

    # Fillet6
    fillet6_edges = [part.edges().sort_by_distance(p)[0] for p in [
        (2, 4.75, 5),
        (5.5, 0, 9.75),
        (5.5, 4.75, -1),
        (5.5, -4.75, -1),
        (3.75, 4.75, -7),
        (3.75, -4.75, -7),
        (5.5, 0, -7),
        (-2.75, 0, -7),
        (6.75, 0, -10.5),
        (6.75, 0, -13.5),
        (2, -20, -13.5),
        (2, -20, -15.5),
        (-18, 0, -13.5),
        (22, 0, -13.5),
        (2, 20, -13.5),
        (-17.853553391, 19.853553391, -13.5),
        (21.853553391, 19.853553391, -13.5),
        (-17.853553391, -19.853553391, -13.5),
        (21.853553391, -19.853553391, -13.5),
        (22, 0, -15.5),
        (-18, 0, -15.5),
        (2, 20, -15.5),
        (-17.853553391, 19.853553391, -15.5),
        (21.853553391, 19.853553391, -15.5),
        (-17.853553391, -19.853553391, -15.5),
        (21.853553391, -19.853553391, -15.5),
        (-15, -17.5, -15.5),
        (-15, -17.5, -13.5),
        (21, 17.5, -15.5),
        (21, 17.5, -13.5),
        (21, -17.5, -15.5),
        (21, -17.5, -13.5),
        (-15, 17.5, -15.5),
        (-15, 17.5, -13.5),
    ]]
    fillet(fillet6_edges, radius=FILLET6_R)


solid = part.part
